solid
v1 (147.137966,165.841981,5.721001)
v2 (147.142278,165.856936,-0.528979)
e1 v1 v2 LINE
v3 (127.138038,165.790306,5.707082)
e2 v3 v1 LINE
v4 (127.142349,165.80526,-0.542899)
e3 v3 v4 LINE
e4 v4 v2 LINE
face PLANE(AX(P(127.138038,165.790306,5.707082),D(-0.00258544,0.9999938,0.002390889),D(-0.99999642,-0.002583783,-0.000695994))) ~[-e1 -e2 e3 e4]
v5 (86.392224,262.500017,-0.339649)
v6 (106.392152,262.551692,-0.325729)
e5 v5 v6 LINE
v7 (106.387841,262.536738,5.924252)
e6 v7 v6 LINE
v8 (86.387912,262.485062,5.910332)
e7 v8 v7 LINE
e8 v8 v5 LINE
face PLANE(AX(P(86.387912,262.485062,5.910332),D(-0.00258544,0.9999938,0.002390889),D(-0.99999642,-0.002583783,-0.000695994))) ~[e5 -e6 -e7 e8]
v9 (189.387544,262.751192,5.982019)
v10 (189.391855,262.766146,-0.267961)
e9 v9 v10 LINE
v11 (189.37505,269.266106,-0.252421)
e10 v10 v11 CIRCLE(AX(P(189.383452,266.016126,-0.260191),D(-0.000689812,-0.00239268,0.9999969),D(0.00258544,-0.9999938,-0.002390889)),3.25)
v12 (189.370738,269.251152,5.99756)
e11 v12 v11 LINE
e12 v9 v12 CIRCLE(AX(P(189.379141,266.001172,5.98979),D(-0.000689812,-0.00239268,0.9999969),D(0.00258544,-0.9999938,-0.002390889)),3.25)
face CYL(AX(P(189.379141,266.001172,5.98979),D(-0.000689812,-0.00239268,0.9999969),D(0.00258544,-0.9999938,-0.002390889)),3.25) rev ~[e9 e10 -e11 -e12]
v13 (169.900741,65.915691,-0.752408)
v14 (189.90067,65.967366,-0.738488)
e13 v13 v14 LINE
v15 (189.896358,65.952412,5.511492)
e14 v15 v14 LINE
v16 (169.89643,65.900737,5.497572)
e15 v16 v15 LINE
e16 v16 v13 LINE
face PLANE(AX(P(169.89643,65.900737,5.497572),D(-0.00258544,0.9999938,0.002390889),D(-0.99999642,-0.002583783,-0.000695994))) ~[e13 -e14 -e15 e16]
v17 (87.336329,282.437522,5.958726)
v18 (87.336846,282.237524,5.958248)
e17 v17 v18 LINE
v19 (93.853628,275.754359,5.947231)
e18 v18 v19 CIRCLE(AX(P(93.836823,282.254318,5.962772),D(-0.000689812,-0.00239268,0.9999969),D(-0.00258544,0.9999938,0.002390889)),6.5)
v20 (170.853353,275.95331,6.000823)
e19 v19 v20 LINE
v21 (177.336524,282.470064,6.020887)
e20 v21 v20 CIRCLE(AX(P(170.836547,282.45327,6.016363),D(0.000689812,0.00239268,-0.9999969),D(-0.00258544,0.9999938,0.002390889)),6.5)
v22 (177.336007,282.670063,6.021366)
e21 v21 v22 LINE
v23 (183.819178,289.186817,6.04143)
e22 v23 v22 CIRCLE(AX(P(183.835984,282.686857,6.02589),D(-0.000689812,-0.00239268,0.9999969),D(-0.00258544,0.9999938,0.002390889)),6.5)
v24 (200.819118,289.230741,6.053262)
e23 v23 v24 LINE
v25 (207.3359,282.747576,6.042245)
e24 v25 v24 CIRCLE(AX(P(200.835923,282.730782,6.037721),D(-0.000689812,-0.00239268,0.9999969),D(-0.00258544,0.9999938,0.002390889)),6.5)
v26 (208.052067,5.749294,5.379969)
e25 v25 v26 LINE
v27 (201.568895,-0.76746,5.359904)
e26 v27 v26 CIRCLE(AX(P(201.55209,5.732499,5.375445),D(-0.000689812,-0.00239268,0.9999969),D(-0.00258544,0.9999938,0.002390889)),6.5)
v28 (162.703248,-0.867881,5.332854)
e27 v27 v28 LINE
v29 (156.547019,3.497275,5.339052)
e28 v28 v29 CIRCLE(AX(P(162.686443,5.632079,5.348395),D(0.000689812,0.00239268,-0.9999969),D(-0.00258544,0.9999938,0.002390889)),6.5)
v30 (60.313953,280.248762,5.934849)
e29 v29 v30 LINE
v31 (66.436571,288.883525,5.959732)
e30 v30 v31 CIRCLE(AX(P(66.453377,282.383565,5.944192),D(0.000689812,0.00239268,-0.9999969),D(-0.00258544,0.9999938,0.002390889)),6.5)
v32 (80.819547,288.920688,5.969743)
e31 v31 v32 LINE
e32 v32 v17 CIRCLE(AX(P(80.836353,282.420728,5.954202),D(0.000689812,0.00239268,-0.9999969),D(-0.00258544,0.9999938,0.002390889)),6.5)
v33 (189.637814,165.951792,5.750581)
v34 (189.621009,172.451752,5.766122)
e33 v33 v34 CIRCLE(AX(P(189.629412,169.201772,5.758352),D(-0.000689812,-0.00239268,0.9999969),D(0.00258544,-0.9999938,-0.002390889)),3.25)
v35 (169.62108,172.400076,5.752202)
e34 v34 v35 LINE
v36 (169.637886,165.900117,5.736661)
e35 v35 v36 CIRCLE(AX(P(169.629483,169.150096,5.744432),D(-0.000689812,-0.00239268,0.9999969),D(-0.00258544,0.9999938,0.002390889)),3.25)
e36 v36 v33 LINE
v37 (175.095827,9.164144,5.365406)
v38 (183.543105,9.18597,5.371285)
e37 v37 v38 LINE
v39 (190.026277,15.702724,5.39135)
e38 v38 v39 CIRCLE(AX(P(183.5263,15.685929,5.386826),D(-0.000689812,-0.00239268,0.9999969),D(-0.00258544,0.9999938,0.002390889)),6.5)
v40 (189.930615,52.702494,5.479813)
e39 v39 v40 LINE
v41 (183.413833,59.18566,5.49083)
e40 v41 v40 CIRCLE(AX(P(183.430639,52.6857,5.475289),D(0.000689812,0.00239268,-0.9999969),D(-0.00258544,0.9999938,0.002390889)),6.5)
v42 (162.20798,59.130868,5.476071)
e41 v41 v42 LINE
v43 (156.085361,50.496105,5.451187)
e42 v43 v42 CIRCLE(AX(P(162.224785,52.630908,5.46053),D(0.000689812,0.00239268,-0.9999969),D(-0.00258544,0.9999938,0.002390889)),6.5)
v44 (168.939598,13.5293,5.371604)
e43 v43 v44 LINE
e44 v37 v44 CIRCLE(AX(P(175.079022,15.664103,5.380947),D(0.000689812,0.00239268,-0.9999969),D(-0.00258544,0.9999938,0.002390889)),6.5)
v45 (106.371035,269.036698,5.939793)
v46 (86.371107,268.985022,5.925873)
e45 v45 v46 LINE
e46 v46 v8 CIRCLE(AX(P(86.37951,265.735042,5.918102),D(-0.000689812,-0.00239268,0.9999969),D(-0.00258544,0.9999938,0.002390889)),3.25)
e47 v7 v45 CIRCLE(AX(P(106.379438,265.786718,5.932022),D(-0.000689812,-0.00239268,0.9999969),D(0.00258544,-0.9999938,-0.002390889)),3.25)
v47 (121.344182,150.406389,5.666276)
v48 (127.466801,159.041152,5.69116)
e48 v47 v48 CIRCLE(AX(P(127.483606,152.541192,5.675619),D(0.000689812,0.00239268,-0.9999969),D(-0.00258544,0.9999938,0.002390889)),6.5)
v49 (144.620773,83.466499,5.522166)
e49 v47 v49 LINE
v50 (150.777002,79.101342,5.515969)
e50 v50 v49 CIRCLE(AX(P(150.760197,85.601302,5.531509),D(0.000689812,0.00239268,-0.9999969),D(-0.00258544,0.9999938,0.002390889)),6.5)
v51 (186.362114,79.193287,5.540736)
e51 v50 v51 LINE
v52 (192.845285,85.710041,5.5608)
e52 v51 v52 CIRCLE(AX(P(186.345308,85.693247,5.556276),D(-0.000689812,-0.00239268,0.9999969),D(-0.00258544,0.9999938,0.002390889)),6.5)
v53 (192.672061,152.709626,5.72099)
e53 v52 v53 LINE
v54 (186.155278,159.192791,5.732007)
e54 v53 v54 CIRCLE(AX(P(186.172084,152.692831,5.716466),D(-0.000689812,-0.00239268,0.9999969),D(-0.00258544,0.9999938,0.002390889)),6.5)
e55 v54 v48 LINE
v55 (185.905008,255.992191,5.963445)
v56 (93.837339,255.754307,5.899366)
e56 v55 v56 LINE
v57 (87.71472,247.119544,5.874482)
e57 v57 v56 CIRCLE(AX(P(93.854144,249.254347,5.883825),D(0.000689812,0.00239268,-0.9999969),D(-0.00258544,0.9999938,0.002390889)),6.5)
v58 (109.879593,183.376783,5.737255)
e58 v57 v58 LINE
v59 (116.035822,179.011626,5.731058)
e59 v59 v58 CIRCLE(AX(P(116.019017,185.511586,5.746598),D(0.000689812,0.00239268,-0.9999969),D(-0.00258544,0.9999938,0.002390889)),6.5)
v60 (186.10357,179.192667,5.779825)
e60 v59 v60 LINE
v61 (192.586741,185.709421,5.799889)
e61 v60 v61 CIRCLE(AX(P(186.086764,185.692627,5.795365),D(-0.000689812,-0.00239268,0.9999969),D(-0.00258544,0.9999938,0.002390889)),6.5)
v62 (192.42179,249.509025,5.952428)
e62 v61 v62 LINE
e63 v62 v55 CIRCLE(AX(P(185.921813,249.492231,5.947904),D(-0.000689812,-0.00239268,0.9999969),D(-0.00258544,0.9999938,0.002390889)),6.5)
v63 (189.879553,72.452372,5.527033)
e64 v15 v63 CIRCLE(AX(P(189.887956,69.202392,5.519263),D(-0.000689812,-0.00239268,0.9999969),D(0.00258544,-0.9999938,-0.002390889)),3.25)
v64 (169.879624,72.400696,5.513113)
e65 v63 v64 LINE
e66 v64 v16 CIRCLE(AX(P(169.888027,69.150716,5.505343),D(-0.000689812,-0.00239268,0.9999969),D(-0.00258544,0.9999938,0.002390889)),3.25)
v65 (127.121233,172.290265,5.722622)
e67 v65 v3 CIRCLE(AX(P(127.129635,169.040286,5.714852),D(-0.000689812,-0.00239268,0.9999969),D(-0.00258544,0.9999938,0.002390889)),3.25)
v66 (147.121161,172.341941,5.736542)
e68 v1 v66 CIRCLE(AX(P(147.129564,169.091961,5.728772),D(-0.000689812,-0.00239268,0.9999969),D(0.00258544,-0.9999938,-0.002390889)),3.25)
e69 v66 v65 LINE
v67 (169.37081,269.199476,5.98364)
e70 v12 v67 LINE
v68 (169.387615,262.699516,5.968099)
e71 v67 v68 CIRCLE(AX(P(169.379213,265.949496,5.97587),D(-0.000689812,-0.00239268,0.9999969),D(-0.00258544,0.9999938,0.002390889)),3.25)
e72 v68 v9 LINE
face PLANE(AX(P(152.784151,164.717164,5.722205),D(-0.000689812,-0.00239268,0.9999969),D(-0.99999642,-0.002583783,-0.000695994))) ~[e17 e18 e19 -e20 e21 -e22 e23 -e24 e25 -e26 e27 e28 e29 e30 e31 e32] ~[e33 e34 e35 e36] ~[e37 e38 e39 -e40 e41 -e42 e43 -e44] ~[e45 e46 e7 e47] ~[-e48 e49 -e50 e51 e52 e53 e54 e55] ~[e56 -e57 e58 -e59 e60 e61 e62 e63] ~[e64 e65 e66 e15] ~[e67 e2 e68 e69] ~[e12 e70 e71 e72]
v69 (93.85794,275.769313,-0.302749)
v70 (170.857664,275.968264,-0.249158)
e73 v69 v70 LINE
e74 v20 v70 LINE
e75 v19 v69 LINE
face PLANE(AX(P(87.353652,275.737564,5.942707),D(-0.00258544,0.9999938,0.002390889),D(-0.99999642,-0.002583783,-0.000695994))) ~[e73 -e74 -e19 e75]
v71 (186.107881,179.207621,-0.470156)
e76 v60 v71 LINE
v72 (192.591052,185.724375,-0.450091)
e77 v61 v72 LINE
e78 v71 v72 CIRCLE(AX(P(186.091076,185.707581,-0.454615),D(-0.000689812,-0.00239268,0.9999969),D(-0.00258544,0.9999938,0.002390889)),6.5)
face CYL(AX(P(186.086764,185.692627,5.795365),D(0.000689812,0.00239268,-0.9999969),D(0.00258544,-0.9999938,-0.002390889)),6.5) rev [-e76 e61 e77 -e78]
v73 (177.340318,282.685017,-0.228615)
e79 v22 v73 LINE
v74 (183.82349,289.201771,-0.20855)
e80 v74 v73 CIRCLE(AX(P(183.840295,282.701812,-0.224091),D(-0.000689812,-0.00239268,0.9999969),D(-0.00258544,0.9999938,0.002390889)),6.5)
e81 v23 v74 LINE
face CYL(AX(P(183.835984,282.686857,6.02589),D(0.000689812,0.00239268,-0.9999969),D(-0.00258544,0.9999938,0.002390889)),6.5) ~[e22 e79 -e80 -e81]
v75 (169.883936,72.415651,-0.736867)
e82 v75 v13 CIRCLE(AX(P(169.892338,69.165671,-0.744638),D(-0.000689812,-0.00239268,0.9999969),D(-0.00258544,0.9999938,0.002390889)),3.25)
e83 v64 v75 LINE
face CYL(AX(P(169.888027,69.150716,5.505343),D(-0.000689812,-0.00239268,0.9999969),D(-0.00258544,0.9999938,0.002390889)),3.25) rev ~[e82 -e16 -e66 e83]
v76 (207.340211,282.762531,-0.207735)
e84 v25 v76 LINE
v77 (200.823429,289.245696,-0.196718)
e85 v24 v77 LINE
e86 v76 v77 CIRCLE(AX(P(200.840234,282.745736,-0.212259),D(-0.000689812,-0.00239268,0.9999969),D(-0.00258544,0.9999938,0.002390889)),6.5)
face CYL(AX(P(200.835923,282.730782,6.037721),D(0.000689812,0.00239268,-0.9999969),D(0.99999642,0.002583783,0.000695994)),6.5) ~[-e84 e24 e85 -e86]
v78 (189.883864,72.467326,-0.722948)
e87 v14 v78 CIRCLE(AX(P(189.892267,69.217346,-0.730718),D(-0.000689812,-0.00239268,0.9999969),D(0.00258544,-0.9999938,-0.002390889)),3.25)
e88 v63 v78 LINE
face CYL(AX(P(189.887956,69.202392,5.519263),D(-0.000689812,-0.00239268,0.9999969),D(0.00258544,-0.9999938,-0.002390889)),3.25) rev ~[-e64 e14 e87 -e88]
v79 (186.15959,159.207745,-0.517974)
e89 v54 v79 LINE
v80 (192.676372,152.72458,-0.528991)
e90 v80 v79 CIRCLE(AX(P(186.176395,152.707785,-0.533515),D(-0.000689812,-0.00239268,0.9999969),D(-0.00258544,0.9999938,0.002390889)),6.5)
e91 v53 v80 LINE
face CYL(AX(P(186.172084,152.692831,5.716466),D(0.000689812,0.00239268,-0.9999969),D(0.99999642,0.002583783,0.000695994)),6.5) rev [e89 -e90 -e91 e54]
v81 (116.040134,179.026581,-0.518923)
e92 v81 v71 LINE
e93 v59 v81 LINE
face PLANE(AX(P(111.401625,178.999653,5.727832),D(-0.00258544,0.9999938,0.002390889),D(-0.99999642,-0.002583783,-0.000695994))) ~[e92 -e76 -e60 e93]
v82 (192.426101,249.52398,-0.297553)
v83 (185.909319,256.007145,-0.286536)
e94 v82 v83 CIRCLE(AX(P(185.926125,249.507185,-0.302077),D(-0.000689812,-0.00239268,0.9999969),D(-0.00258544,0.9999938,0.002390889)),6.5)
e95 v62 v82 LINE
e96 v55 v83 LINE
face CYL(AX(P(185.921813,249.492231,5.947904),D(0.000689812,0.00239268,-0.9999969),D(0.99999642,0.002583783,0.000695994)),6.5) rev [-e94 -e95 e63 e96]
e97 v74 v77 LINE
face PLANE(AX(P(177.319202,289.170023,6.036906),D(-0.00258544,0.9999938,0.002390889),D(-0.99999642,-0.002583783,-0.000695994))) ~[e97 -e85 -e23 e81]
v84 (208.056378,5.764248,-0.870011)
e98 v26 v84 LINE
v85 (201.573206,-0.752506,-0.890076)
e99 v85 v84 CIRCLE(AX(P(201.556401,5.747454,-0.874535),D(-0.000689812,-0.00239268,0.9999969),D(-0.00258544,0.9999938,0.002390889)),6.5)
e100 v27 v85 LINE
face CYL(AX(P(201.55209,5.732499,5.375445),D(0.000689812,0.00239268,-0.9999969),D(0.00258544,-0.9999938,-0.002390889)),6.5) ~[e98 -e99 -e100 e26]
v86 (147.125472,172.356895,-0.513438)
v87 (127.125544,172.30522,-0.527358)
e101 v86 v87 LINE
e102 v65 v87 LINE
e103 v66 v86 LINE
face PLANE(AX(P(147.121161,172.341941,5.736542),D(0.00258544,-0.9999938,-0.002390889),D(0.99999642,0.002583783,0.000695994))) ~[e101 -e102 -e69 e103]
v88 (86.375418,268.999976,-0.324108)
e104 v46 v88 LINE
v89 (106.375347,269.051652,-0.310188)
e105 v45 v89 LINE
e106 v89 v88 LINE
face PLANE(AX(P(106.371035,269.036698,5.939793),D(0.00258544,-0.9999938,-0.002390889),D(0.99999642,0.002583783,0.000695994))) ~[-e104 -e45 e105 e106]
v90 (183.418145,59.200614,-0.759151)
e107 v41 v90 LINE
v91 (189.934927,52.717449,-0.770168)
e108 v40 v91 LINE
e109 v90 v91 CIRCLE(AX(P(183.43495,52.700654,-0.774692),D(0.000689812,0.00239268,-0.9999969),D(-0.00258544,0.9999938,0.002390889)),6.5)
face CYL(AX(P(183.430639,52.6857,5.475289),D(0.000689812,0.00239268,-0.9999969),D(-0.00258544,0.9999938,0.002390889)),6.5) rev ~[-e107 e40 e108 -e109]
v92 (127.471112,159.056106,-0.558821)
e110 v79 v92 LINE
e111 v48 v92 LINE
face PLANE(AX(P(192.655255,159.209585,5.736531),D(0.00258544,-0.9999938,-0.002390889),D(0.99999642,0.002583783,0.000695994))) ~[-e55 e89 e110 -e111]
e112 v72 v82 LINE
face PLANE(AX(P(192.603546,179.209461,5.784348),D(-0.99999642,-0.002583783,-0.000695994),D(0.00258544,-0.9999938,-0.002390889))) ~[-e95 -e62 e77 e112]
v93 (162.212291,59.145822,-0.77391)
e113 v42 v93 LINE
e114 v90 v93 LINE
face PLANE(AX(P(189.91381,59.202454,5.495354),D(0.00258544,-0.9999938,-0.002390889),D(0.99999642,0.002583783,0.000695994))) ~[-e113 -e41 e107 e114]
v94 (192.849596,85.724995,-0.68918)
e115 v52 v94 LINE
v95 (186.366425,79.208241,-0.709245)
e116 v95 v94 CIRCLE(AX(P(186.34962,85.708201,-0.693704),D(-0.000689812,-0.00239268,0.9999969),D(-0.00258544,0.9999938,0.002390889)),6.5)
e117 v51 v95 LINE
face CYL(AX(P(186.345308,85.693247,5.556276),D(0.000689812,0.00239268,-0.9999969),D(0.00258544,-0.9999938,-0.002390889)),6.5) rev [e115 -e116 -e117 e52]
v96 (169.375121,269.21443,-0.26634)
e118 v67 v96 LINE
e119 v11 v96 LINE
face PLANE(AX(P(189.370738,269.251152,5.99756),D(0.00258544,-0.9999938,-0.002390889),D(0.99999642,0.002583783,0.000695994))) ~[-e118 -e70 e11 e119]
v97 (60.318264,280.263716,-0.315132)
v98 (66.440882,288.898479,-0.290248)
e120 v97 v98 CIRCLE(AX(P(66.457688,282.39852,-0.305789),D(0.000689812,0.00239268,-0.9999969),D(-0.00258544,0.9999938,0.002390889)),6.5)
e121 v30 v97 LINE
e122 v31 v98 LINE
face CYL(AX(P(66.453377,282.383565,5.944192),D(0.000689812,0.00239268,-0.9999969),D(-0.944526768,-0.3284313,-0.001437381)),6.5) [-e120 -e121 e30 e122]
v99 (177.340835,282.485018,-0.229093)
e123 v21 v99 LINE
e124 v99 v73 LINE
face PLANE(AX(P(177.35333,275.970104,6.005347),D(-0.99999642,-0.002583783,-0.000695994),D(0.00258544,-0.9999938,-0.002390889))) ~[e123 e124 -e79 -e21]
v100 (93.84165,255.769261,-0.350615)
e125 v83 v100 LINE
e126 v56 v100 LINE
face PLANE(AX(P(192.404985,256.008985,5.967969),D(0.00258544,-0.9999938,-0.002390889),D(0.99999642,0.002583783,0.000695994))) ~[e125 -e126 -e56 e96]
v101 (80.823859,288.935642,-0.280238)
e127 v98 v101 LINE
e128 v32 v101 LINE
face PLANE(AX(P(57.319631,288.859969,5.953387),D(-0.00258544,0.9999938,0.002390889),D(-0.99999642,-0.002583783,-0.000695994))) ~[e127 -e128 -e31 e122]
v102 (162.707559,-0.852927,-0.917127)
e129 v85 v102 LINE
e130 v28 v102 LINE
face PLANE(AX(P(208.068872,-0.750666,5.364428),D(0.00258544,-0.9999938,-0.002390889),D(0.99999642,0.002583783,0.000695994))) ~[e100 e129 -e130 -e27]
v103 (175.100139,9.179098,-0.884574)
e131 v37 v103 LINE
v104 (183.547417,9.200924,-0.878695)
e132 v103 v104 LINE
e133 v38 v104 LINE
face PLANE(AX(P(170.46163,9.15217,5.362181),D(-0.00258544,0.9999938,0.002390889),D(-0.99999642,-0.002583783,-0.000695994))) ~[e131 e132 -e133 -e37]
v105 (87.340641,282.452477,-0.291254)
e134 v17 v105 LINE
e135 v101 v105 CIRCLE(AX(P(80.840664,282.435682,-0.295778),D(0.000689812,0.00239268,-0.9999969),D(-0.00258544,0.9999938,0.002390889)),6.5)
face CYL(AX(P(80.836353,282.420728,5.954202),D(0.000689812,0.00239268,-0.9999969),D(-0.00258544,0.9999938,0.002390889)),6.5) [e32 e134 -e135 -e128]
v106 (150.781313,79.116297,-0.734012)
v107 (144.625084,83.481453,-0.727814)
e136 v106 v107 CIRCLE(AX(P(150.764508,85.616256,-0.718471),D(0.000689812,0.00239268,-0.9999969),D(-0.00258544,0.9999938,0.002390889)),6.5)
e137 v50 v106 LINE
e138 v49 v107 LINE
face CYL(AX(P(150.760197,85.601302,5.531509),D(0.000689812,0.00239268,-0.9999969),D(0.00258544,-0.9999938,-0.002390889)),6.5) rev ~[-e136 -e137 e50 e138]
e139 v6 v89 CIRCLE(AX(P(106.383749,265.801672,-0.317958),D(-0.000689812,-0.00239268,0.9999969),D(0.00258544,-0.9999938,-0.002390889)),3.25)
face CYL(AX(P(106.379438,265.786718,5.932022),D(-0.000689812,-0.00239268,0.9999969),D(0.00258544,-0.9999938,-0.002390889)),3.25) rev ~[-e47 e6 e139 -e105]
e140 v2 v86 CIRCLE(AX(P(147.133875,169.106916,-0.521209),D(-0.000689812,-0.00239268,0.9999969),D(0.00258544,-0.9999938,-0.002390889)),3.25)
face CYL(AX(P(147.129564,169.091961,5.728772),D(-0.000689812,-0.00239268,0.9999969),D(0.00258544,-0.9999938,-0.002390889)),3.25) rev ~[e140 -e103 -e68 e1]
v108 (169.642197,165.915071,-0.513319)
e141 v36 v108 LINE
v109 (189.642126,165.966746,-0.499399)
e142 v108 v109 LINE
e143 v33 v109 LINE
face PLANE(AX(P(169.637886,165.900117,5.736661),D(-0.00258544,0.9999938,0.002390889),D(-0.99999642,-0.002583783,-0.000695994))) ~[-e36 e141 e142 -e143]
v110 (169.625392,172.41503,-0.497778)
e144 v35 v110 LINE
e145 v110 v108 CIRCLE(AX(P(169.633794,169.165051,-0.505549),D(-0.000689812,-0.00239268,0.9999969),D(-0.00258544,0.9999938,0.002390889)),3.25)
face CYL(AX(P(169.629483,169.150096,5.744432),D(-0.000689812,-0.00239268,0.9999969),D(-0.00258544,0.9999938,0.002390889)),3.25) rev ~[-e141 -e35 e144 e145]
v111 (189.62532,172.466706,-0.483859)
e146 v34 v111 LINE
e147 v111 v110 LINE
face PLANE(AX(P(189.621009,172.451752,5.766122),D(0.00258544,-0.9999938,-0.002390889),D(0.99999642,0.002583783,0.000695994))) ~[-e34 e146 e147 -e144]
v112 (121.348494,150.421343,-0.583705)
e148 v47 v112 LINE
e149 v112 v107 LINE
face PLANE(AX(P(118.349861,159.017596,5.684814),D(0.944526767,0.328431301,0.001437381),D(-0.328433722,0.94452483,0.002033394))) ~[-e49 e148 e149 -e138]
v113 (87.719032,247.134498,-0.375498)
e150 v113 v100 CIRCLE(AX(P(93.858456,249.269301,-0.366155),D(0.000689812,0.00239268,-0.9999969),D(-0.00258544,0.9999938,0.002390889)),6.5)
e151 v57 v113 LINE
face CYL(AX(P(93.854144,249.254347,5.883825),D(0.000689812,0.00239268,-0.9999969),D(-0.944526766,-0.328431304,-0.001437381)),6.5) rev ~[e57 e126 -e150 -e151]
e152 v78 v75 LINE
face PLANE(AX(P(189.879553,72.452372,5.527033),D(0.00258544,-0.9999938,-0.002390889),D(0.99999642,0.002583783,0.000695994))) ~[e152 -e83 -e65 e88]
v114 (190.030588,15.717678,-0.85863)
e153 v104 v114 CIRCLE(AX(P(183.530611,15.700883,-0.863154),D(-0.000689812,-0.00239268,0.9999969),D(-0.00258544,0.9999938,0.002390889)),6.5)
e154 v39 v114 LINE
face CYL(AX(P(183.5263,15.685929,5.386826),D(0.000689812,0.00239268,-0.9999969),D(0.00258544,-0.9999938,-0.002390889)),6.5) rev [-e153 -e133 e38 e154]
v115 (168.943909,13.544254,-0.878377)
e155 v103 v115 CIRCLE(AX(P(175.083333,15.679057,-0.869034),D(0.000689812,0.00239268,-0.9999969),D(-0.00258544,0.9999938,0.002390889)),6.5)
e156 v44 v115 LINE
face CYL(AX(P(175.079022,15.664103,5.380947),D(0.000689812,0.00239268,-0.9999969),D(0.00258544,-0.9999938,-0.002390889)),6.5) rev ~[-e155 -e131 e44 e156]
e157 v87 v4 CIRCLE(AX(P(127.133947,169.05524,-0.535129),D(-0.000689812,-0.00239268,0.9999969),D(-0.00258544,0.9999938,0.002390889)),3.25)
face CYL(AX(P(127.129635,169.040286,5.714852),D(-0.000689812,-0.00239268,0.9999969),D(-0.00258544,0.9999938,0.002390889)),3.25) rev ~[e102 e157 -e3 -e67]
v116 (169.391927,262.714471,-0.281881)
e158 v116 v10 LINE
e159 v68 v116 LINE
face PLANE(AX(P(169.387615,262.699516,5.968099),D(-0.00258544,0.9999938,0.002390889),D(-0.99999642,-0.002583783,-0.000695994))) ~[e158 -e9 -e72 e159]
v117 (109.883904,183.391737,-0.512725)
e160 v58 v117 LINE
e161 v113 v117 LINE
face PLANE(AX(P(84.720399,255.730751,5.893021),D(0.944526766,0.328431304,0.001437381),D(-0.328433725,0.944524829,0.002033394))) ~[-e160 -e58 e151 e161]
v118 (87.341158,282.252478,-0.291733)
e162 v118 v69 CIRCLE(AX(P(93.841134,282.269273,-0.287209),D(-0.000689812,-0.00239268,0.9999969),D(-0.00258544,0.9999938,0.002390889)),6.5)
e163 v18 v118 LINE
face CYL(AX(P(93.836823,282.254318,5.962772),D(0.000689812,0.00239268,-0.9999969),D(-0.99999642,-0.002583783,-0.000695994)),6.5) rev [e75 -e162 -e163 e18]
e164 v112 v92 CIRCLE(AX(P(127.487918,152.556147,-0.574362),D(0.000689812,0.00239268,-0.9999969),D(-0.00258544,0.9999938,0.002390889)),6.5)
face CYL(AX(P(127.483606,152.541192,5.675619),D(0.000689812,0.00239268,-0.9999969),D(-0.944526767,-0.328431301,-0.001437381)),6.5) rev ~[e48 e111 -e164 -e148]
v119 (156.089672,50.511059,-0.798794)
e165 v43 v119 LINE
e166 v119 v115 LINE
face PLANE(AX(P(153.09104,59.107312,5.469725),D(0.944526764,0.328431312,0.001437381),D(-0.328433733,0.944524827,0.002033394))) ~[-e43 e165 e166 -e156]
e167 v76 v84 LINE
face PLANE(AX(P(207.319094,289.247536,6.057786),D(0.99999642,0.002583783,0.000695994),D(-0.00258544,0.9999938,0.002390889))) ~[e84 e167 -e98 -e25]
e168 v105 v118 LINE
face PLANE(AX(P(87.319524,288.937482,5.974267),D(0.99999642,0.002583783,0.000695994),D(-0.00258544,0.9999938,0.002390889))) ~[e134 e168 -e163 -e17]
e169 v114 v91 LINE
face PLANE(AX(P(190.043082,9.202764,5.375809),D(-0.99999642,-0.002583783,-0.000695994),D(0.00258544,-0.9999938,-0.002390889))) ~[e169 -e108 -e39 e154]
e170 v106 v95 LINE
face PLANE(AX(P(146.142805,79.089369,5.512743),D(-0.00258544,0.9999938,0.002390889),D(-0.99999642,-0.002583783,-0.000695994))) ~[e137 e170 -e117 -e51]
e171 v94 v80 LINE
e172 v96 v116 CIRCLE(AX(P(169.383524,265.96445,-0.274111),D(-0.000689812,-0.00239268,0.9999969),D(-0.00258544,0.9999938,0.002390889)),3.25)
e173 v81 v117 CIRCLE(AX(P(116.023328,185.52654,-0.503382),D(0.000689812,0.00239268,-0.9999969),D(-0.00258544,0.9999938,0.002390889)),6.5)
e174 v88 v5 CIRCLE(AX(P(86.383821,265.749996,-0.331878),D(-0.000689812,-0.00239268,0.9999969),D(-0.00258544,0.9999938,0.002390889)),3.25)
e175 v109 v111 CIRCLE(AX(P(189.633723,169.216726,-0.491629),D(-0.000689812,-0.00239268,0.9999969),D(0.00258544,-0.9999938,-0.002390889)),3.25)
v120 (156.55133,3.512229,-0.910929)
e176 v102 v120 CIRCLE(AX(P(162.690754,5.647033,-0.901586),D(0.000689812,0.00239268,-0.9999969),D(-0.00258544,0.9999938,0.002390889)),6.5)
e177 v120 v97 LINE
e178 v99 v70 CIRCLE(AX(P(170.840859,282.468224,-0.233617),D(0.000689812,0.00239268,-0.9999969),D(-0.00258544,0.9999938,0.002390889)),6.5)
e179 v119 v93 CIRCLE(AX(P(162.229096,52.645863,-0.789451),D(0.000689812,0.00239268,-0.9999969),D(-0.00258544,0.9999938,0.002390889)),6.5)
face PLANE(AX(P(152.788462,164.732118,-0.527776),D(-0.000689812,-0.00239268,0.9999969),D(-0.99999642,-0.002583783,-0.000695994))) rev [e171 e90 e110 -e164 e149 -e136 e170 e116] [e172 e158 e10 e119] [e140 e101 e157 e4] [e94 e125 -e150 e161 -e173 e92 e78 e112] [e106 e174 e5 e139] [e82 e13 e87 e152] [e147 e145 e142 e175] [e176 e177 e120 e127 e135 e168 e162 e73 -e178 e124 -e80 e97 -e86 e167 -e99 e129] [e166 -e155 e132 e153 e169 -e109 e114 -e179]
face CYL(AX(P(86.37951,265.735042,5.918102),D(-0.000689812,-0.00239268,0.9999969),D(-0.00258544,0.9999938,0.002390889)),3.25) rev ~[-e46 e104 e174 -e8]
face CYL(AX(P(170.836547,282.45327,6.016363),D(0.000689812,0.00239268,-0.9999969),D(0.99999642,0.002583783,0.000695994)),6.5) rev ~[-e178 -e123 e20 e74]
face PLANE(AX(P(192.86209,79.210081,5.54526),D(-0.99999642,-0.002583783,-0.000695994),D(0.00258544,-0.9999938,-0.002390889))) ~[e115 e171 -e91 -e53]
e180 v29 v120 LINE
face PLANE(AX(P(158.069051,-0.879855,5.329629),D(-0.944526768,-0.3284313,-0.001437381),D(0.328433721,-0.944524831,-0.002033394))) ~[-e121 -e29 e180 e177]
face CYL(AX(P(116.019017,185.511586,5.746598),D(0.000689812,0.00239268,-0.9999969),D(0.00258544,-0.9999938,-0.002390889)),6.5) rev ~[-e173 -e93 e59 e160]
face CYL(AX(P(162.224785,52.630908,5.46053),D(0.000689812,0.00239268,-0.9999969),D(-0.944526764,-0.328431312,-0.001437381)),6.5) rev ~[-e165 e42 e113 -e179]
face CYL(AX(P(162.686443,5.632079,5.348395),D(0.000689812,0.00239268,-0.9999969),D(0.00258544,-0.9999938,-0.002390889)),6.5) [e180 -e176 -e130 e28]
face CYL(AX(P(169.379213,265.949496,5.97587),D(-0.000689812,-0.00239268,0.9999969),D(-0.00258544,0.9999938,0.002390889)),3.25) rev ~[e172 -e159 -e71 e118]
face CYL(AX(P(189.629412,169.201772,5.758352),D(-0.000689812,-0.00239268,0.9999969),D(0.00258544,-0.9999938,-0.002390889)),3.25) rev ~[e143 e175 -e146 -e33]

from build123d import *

# Parameters (mm, degrees)
PAD_DEPTH              = 6.25
FILLET_R               = 6.5
MIRROR_ROLL_ANGLE      = -179.860318
MIRROR_PITCH_ANGLE     = 1.669328
MIRROR_PLACEMENT_ANGLE = 0.337481


with BuildPart() as body:
    # Sketch → Pad (new body)
    with BuildSketch(Plane.XY):
        Polygon((0, 290), (50, 290), (150, 0), (120, 0), (120, 13.2), (30, 13.2), (30, 0), (0, 0), align=None)
        Polygon((15, 210), (15, 130), (89.30566, 130), (61.719453, 210), align=None, mode=Mode.SUBTRACT)
        Polygon((15, 110), (15, 33.2), (122.684971, 33.2), (96.202212, 110), align=None, mode=Mode.SUBTRACT)
        with BuildLine():
            ThreePointArc((18, 223.25), (14.75, 220), (18, 216.75))
            Line((18, 216.75), (38, 216.75))
            ThreePointArc((38, 216.75), (41.25, 220), (38, 223.25))
            Line((38, 223.25), (18, 223.25))
        make_face(mode=Mode.SUBTRACT)
        with BuildLine():
            ThreePointArc((60.5, 123.25), (57.25, 120), (60.5, 116.75))
            Line((60.5, 116.75), (80.5, 116.75))
            ThreePointArc((80.5, 116.75), (83.75, 120), (80.5, 123.25))
            Line((80.5, 123.25), (60.5, 123.25))
        make_face(mode=Mode.SUBTRACT)
        with BuildLine():
            ThreePointArc((18, 123.25), (14.75, 120), (18, 116.75))
            Line((18, 116.75), (38, 116.75))
            ThreePointArc((38, 116.75), (41.25, 120), (38, 123.25))
            Line((38, 123.25), (18, 123.25))
        make_face(mode=Mode.SUBTRACT)
        with BuildLine():
            ThreePointArc((18, 26.45), (14.75, 23.2), (18, 19.95))
            Line((18, 19.95), (38, 19.95))
            ThreePointArc((38, 19.95), (41.25, 23.2), (38, 26.45))
            Line((38, 26.45), (18, 26.45))
        make_face(mode=Mode.SUBTRACT)
        with BuildLine():
            ThreePointArc((101, 26.45), (97.75, 23.2), (101, 19.95))
            Line((101, 19.95), (121, 19.95))
            ThreePointArc((121, 19.95), (124.25, 23.2), (121, 26.45))
            Line((121, 26.45), (101, 26.45))
        make_face(mode=Mode.SUBTRACT)
        Polygon((18, 280), (18, 230), (54.822902, 230), (37.581522, 280), align=None, mode=Mode.SUBTRACT)
    extrude(amount=PAD_DEPTH)

    # Fillet
    fillet_edges = [body.edges().sort_by_distance(p)[0] for p in [
        (0, 0, 3.125),
        (50, 290, 3.125),
        (0, 290, 3.125),
        (150, 0, 3.125),
        (120, 0, 3.125),
        (30, 0, 3.125),
        (61.719453, 210, 3.125),
        (15, 210, 3.125),
        (96.202212, 110, 3.125),
        (15, 110, 3.125),
        (15, 130, 3.125),
        (15, 33.2, 3.125),
        (122.684971, 33.2, 3.125),
        (89.30566, 130, 3.125),
        (30, 13.2, 3.125),
        (120, 13.2, 3.125),
        (18, 280, 3.125),
        (18, 230, 3.125),
        (37.581522, 280, 3.125),
        (54.822902, 230, 3.125),
    ]]
    fillet(fillet_edges, radius=FILLET_R)


with BuildPart() as body_1:
    # Body placement: moved
    add(body.part.moved(Location((-2, 0, 0))))


with BuildPart() as model_body_mirrored:
    # mirror: instance of Body
    add(body_1.part.mirror(Plane(origin=(159.181488, 124.226166, 5.790833), x_dir=(-0.001618, 0.999999, 0), z_dir=(-0.999887, -0.001617, 0.014919))))


with BuildPart() as model_body_mirrored_1:
    # mirror roll: moved
    add(model_body_mirrored.part.rotate(Axis((0, 0, 0), (1, 0, 0)), MIRROR_ROLL_ANGLE))


with BuildPart() as model_body_mirrored_2:
    # mirror pitch: moved
    add(model_body_mirrored_1.part.rotate(Axis((0, 0, 0), (0, 1, 0)), MIRROR_PITCH_ANGLE))


with BuildPart() as model_body_mirrored_3:
    # mirror placement: moved
    add(model_body_mirrored_2.part.moved(Location((-113.201923, 287.892908, 10.586))).rotate(Axis((-113.201923, 287.892908, 10.586), (0, 0, 1)), MIRROR_PLACEMENT_ANGLE))


solid = model_body_mirrored_3.part
